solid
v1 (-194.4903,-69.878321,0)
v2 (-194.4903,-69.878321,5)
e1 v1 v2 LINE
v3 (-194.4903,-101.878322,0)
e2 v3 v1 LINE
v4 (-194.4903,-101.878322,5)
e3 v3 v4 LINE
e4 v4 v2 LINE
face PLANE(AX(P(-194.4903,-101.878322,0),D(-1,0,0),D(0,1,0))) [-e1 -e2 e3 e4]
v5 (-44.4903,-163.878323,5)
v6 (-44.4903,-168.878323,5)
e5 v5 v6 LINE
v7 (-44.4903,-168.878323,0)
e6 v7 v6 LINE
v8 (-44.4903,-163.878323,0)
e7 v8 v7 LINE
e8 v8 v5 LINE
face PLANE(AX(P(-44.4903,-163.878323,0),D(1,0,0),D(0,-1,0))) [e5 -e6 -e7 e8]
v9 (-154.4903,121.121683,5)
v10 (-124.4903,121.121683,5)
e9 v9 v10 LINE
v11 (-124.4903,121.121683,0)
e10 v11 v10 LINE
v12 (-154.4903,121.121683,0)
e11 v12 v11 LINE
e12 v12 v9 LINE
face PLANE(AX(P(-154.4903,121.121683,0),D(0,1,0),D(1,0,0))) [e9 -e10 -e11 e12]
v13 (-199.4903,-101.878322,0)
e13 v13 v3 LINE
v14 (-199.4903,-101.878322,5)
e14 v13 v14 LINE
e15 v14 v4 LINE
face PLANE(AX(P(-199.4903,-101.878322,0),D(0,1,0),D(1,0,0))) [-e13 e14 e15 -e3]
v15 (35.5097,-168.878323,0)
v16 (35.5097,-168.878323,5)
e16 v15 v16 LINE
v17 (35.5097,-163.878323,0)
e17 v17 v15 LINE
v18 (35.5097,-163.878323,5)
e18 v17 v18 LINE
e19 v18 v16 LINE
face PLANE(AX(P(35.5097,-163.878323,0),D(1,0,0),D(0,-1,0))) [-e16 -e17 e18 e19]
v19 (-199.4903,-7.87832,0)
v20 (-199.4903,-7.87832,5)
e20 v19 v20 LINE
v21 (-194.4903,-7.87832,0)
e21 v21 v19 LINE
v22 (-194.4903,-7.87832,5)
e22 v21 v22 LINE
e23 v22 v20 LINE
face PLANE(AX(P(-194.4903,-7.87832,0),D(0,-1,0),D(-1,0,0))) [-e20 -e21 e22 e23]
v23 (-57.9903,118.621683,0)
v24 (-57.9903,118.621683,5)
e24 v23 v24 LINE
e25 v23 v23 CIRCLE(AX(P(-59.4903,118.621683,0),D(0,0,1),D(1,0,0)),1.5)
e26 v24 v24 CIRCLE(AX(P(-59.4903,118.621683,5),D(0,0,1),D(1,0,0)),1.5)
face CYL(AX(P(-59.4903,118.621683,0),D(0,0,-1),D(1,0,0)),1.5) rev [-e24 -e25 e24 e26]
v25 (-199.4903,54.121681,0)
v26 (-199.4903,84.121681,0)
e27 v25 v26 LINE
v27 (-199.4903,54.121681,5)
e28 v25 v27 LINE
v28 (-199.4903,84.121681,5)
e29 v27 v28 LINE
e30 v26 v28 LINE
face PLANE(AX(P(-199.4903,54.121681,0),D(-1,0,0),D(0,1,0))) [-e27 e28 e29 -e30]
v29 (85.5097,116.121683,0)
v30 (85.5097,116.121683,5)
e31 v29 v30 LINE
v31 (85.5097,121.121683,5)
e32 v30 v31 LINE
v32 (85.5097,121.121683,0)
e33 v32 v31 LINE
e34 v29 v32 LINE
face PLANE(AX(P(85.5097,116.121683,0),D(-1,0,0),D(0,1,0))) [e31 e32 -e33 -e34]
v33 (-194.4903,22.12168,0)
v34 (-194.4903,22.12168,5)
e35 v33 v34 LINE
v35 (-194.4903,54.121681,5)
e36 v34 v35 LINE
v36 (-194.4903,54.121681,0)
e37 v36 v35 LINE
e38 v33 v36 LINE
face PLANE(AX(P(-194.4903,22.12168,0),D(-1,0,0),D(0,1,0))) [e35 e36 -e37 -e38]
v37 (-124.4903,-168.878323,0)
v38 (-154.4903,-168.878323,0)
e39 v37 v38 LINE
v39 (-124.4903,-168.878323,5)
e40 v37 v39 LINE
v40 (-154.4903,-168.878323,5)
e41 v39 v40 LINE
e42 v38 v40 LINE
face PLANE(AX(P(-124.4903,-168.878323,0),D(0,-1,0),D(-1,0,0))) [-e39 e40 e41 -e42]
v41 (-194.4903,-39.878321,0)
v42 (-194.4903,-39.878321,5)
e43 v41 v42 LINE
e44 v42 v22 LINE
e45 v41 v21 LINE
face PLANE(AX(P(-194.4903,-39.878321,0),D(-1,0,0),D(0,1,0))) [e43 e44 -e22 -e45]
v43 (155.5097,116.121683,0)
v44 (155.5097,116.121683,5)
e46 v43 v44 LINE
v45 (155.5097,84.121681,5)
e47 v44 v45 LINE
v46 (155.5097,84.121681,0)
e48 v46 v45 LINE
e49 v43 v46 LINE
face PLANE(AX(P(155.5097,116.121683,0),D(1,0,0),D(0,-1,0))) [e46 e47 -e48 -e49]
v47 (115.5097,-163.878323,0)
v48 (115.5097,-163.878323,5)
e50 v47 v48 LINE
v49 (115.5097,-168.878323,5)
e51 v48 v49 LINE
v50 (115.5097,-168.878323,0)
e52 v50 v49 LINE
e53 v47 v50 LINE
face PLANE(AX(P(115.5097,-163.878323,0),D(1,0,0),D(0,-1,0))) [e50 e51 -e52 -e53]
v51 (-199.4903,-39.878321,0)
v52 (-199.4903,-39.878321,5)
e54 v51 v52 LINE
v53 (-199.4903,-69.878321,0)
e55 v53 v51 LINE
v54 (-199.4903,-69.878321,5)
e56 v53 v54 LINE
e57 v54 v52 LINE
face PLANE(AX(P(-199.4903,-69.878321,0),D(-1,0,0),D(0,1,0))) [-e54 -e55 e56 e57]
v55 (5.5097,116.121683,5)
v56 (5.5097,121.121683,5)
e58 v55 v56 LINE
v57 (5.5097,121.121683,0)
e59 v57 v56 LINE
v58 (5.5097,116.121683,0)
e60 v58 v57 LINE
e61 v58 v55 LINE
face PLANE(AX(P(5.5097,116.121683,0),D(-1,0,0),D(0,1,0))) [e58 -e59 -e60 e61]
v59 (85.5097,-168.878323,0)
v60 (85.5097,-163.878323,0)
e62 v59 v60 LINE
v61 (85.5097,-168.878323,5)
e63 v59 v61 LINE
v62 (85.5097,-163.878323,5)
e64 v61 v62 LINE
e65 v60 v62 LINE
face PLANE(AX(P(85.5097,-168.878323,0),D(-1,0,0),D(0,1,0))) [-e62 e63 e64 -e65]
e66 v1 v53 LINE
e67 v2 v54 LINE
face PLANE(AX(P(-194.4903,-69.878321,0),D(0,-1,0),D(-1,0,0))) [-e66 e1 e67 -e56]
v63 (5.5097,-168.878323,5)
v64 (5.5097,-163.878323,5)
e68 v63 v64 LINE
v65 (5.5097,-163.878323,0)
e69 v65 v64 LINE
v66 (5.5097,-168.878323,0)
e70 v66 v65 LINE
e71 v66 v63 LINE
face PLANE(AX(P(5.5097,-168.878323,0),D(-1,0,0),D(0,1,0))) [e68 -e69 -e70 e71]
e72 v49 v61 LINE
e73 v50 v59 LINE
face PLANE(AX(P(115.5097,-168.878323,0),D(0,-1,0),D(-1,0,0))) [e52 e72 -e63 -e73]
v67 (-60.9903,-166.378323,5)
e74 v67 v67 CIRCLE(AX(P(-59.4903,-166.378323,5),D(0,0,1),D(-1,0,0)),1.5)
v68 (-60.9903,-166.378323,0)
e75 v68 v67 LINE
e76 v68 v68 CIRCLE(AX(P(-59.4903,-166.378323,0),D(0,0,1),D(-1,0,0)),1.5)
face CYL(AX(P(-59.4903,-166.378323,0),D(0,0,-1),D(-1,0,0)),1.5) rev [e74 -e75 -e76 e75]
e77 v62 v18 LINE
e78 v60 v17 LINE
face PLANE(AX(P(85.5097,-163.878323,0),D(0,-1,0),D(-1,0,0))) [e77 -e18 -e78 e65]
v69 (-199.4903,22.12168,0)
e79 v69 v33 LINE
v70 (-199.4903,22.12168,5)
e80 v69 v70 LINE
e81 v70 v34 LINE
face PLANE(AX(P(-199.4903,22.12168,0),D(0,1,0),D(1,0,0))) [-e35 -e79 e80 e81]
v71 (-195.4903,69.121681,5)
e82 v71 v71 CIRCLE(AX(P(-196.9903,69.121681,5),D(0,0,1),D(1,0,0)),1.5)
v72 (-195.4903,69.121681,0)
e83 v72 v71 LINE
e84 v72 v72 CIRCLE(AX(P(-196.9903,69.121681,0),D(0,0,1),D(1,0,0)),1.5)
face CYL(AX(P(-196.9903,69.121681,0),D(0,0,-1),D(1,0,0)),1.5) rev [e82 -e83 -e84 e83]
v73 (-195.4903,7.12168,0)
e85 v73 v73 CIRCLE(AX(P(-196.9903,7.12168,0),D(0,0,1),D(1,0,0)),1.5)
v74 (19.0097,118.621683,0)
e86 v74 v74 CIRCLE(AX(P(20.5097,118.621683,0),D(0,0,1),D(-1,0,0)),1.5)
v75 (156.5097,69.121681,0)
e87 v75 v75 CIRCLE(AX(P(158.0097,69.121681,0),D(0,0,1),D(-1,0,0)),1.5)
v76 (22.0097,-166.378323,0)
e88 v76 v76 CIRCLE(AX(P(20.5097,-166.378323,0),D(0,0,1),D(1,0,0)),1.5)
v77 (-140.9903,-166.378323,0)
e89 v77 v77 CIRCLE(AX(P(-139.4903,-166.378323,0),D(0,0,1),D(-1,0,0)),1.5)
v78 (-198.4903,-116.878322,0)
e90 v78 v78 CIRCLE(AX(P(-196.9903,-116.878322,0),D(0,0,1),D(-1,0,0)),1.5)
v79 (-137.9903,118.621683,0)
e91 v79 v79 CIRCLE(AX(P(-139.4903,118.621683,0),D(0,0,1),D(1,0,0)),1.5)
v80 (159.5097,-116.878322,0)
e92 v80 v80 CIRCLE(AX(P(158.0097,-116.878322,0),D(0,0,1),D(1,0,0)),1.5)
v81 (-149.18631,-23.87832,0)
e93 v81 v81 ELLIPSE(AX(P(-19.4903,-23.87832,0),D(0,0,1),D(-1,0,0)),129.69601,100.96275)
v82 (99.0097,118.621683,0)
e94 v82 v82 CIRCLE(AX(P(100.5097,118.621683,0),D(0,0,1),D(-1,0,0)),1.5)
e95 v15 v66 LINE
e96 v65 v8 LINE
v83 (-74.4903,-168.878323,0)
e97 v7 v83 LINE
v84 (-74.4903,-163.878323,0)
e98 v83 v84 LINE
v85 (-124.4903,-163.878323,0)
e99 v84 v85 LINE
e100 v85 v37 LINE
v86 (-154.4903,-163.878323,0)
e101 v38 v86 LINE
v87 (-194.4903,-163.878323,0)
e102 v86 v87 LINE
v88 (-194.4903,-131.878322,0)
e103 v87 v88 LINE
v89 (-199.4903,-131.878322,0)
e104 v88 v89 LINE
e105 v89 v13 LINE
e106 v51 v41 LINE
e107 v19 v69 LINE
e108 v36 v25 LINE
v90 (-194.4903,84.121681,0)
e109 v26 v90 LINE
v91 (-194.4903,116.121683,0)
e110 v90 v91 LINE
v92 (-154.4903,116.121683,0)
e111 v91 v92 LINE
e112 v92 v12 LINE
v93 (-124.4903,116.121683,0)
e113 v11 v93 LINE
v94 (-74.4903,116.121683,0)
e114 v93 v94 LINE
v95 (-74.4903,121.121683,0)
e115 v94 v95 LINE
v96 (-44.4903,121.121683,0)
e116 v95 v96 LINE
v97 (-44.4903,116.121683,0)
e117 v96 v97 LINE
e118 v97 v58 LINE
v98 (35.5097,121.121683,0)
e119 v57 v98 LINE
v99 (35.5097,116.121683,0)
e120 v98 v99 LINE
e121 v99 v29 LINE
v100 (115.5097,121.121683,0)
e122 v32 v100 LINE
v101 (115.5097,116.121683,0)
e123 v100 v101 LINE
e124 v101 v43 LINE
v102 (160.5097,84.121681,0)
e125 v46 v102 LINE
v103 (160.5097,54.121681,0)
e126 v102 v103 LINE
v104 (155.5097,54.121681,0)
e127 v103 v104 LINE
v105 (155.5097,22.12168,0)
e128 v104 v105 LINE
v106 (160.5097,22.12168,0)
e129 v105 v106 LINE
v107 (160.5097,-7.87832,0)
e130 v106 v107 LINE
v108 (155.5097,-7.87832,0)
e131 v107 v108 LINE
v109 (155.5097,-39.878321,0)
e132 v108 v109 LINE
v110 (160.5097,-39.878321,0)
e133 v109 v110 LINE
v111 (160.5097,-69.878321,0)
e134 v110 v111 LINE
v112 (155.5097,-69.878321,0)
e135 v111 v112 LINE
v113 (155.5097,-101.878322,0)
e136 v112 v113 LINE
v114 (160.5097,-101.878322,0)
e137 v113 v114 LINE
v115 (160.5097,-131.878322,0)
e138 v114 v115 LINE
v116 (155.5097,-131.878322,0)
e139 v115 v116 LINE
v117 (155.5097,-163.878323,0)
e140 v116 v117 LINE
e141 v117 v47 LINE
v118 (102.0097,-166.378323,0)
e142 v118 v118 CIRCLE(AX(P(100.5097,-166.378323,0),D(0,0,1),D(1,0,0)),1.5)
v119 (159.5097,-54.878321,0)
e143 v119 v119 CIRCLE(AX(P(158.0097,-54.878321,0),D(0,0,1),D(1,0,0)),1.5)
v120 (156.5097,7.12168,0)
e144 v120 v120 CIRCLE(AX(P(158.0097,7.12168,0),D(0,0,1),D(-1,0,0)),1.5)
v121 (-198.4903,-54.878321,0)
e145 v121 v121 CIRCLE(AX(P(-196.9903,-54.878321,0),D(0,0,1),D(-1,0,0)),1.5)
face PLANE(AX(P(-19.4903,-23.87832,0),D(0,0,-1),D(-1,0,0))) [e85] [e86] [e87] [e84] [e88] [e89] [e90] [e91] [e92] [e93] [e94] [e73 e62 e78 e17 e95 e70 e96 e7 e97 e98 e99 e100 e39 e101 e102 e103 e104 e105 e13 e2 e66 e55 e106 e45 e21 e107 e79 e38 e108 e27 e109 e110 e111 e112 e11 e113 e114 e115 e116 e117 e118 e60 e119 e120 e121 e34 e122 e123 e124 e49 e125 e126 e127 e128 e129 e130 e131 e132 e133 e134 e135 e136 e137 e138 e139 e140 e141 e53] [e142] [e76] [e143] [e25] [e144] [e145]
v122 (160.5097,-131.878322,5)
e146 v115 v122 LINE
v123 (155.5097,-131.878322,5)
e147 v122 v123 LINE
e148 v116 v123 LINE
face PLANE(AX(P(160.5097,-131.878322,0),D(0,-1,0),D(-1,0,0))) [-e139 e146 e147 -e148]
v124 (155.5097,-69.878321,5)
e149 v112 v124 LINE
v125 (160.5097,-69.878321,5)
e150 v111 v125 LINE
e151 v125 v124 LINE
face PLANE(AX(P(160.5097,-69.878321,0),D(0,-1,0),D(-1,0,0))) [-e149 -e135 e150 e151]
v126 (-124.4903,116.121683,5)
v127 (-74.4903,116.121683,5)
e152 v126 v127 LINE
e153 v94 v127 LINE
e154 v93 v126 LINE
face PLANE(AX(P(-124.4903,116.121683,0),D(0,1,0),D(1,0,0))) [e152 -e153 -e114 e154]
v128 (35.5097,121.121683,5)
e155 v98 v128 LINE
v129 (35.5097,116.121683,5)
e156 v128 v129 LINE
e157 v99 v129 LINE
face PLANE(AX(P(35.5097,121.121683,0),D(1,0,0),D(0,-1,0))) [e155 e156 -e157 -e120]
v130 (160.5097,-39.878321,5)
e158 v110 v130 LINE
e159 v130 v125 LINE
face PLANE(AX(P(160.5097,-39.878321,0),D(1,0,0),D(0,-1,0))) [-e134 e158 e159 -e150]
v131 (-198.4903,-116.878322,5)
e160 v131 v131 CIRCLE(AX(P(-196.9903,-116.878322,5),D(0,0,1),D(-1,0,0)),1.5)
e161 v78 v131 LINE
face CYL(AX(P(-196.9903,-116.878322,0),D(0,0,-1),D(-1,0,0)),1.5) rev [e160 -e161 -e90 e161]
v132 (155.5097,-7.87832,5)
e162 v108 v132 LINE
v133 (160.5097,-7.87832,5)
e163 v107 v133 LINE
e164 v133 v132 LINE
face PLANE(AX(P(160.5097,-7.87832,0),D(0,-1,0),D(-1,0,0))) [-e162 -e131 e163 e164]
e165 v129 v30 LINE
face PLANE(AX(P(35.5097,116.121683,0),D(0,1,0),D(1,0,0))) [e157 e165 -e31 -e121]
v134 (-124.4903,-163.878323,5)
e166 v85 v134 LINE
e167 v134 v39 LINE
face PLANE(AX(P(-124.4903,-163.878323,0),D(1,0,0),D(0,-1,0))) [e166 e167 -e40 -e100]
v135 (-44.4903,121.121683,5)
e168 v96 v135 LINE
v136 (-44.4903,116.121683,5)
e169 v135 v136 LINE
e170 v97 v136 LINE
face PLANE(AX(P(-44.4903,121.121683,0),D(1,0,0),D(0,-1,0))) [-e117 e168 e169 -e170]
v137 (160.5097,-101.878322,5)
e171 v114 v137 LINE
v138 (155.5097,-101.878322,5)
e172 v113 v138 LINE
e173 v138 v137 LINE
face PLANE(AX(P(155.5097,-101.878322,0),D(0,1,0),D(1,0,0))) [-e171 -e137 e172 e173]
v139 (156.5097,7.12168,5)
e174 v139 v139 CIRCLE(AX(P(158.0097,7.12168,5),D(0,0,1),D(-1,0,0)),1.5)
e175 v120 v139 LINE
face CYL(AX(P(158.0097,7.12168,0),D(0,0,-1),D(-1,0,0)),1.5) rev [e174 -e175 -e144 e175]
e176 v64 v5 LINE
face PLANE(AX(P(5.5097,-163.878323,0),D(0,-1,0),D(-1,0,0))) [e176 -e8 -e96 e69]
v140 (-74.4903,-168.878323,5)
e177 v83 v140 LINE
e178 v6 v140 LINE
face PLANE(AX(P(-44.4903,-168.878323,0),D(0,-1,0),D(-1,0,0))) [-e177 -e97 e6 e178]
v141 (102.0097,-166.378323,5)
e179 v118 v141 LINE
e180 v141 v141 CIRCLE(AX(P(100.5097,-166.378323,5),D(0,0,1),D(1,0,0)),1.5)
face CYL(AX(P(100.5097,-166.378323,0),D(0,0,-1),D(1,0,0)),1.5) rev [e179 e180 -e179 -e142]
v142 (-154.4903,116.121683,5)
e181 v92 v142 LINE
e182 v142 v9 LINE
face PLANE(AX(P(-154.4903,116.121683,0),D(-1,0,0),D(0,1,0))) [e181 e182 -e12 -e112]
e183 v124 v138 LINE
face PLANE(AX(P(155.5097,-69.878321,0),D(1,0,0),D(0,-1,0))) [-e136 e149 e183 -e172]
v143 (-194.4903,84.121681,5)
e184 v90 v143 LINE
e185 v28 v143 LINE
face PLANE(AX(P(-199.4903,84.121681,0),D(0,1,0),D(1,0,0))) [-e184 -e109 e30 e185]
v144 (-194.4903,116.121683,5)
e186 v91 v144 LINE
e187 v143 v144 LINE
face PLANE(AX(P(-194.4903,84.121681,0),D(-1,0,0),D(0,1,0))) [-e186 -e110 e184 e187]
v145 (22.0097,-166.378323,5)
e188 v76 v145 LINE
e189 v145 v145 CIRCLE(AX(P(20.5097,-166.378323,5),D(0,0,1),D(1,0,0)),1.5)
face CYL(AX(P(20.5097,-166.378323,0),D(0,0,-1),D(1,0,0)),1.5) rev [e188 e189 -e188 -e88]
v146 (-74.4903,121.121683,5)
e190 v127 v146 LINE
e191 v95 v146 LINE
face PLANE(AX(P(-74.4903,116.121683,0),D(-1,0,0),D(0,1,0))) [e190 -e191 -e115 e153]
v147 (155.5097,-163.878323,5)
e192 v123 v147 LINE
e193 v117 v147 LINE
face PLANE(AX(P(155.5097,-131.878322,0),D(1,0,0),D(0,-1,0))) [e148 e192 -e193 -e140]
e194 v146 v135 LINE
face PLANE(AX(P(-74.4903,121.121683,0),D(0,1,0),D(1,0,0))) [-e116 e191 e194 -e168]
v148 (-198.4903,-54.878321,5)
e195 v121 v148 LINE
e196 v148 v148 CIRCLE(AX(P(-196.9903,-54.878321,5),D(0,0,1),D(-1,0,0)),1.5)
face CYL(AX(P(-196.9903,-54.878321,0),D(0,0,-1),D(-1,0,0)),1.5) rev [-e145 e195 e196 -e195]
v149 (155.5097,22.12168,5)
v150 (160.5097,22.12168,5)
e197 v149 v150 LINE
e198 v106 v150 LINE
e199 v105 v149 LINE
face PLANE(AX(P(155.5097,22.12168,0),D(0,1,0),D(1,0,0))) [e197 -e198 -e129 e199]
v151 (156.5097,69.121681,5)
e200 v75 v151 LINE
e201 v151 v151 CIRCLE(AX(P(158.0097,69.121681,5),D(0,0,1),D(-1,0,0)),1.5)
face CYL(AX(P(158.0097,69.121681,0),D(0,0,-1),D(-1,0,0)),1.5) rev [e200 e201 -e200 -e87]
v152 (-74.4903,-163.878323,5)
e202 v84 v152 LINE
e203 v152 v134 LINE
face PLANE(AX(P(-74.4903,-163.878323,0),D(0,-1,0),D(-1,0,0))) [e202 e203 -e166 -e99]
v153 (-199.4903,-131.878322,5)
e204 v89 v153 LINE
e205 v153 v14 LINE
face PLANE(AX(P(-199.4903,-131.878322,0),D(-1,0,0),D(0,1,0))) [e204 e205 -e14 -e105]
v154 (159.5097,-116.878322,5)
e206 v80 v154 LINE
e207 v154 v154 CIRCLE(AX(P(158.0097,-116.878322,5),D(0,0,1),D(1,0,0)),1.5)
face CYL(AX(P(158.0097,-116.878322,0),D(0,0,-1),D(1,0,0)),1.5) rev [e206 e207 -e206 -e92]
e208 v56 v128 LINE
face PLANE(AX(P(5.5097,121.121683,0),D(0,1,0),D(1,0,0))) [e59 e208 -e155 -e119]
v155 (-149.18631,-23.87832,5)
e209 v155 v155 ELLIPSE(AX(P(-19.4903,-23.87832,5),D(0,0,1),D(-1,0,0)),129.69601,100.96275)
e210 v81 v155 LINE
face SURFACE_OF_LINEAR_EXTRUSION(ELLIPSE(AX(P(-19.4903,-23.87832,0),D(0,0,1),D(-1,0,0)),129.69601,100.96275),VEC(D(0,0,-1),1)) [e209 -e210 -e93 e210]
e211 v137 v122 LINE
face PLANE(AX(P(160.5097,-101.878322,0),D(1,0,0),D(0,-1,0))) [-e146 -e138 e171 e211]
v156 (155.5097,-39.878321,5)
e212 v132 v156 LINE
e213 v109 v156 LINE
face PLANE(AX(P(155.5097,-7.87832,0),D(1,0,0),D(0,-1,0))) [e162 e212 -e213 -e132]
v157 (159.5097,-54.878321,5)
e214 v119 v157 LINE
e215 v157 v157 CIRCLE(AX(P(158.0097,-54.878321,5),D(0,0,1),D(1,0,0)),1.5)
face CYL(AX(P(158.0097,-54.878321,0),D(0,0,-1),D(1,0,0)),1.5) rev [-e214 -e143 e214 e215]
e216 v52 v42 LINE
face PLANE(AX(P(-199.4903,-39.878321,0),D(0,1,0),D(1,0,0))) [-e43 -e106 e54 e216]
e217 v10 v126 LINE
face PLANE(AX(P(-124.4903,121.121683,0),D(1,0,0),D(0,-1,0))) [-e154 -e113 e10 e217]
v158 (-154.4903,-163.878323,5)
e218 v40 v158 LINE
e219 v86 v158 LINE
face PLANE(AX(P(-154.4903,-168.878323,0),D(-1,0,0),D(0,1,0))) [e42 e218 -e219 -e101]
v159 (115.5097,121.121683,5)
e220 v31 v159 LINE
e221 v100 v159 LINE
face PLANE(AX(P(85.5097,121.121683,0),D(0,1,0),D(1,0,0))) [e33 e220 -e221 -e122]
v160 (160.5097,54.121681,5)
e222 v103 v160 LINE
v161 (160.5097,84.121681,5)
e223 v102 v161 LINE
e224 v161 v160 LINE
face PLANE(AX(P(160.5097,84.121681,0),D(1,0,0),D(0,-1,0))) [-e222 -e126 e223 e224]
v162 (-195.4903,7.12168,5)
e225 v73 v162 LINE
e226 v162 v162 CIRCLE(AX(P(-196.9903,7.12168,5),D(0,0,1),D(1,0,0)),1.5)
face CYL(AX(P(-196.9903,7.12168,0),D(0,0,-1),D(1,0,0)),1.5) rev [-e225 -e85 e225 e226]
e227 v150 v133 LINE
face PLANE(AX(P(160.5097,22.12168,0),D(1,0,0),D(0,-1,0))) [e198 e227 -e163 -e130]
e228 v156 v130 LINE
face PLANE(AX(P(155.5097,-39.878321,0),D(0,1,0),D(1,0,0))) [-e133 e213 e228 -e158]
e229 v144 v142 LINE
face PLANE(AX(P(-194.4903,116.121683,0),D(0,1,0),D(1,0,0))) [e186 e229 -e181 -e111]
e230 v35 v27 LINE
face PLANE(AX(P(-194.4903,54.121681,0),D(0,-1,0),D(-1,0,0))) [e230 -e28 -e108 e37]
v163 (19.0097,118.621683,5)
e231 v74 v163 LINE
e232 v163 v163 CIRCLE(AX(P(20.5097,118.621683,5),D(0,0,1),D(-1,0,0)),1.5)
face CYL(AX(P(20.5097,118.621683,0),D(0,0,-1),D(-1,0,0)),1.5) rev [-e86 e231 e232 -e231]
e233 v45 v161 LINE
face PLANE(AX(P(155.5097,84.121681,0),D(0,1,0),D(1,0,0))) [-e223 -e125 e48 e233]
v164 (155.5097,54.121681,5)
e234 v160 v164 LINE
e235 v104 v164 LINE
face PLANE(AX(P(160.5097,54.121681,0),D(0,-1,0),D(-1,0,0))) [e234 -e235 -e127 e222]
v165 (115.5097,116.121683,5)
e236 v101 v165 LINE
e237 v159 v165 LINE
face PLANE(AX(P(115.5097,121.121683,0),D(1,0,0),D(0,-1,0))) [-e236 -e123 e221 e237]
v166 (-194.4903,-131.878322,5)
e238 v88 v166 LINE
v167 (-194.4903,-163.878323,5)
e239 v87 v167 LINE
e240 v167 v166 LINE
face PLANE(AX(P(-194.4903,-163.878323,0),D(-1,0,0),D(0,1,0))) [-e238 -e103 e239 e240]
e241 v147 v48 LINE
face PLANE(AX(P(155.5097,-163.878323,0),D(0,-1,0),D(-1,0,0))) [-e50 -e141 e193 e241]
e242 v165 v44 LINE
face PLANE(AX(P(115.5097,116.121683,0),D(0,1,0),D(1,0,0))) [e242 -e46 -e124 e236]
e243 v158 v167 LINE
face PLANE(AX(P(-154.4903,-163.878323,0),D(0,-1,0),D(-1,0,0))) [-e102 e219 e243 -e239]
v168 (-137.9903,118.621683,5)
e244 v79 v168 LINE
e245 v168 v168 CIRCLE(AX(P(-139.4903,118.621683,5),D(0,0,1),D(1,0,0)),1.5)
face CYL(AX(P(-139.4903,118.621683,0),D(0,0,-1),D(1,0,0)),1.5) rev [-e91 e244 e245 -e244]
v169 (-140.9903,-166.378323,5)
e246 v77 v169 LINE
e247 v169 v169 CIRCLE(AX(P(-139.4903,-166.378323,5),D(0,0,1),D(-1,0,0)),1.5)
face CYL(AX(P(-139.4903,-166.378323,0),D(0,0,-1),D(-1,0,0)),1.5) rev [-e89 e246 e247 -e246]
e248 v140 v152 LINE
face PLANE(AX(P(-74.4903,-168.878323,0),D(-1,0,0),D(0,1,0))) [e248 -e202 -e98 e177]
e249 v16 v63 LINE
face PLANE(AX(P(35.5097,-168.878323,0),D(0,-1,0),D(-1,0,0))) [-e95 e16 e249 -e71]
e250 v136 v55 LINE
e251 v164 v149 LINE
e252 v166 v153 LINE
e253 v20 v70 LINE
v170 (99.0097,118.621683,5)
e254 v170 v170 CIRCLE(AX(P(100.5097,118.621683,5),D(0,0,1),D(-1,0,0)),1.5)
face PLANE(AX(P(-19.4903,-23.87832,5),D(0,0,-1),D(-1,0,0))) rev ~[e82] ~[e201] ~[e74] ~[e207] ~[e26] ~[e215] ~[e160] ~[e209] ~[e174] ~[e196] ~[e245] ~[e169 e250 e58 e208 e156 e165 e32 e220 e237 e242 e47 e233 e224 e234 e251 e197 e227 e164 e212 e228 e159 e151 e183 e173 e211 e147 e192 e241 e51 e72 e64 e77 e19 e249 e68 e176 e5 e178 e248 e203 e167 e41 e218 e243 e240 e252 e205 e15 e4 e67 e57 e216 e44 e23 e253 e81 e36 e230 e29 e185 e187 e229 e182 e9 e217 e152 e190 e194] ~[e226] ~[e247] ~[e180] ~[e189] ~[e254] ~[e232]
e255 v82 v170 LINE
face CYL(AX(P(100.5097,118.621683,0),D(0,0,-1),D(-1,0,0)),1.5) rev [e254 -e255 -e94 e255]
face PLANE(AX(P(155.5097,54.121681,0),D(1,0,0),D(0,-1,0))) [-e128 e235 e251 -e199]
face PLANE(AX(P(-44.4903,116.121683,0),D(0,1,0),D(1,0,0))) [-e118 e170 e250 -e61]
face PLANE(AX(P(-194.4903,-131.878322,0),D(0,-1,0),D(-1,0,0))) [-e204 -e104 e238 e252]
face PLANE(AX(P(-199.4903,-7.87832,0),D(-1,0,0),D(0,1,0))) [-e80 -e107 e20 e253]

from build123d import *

# Parameters (mm, degrees)
SKETCH1_R           = 1.5
SKETCH1_RX          = 129.696010234
SKETCH1_RY          = 100.962749524
BOSS_EXTRUDE1_DEPTH = 5


with BuildPart() as part:
    # Sketch1 → Boss-Extrude1 (new body)
    with BuildSketch(Plane.XY):
        Polygon((155.509699879, -163.878323363), (115.509699879, -163.878323363), (115.509699879, -168.878323363), (85.509699879, -168.878323363), (85.509699879, -163.878323363), (35.509699879, -163.878323363), (35.509699879, -168.878323363), (5.509699879, -168.878323363), (5.509699879, -163.878323363), (-44.490300121, -163.878323363), (-44.490300121, -168.878323363), (-74.490300121, -168.878323363), (-74.490300121, -163.878323363), (-124.490300121, -163.878323363), (-124.490300121, -168.878323363), (-154.490300121, -168.878323363), (-154.490300121, -163.878323363), (-194.490300121, -163.878323363), (-194.490300121, -131.87832215), (-199.490300121, -131.87832215), (-199.490300121, -101.87832215), (-194.490300121, -101.87832215), (-194.490300121, -69.878320937), (-199.490300121, -69.878320937), (-199.490300121, -39.878320937), (-194.490300121, -39.878320937), (-194.490300121, -7.878319723), (-199.490300121, -7.878319723), (-199.490300121, 22.121680277), (-194.490300121, 22.121680277), (-194.490300121, 54.12168149), (-199.490300121, 54.12168149), (-199.490300121, 84.12168149), (-194.490300121, 84.12168149), (-194.490300121, 116.121682703), (-154.490300121, 116.121682703), (-154.490300121, 121.121682703), (-124.490300121, 121.121682703), (-124.490300121, 116.121682703), (-74.490300121, 116.121682703), (-74.490300121, 121.121682703), (-44.490300121, 121.121682703), (-44.490300121, 116.121682703), (5.509699879, 116.121682703), (5.509699879, 121.121682703), (35.509699879, 121.121682703), (35.509699879, 116.121682703), (85.509699879, 116.121682703), (85.509699879, 121.121682703), (115.509699879, 121.121682703), (115.509699879, 116.121682703), (155.509699879, 116.121682703), (155.509699879, 84.12168149), (160.509699879, 84.12168149), (160.509699879, 54.12168149), (155.509699879, 54.12168149), (155.509699879, 22.121680277), (160.509699879, 22.121680277), (160.509699879, -7.878319723), (155.509699879, -7.878319723), (155.509699879, -39.878320937), (160.509699879, -39.878320937), (160.509699879, -69.878320937), (155.509699879, -69.878320937), (155.509699879, -101.87832215), (160.509699879, -101.87832215), (160.509699879, -131.87832215), (155.509699879, -131.87832215), align=None)
        with Locations((-139.490300121, 118.621682703)):
            Circle(SKETCH1_R, mode=Mode.SUBTRACT)
        with Locations((-59.490300121, 118.621682703)):
            Circle(SKETCH1_R, mode=Mode.SUBTRACT)
        with Locations((-196.990300121, 69.12168149)):
            Circle(SKETCH1_R, mode=Mode.SUBTRACT)
        with Locations((-196.990300121, 7.121680277)):
            Circle(SKETCH1_R, mode=Mode.SUBTRACT)
        with Locations(Location((158.009699879, 7.121680277, 0), (0, 0, 180))):
            Circle(SKETCH1_R, mode=Mode.SUBTRACT)
        with Locations(Location((158.009699879, 69.12168149, 0), (0, 0, 180))):
            Circle(SKETCH1_R, mode=Mode.SUBTRACT)
        with Locations(Location((100.509699879, 118.621682703, 0), (0, 0, 180))):
            Circle(SKETCH1_R, mode=Mode.SUBTRACT)
        with Locations(Location((20.509699879, 118.621682703, 0), (0, 0, 180))):
            Circle(SKETCH1_R, mode=Mode.SUBTRACT)
        with Locations((158.009699879, -54.878320937)):
            Circle(SKETCH1_R, mode=Mode.SUBTRACT)
        with Locations((158.009699879, -116.87832215)):
            Circle(SKETCH1_R, mode=Mode.SUBTRACT)
        with Locations((100.509699879, -166.378323363)):
            Circle(SKETCH1_R, mode=Mode.SUBTRACT)
        with Locations((20.509699879, -166.378323363)):
            Circle(SKETCH1_R, mode=Mode.SUBTRACT)
        with Locations(Location((-59.490300121, -166.378323363, 0), (0, 0, 180))):
            Circle(SKETCH1_R, mode=Mode.SUBTRACT)
        with Locations(Location((-139.490300121, -166.378323363, 0), (0, 0, 180))):
            Circle(SKETCH1_R, mode=Mode.SUBTRACT)
        with Locations(Location((-196.990300121, -54.878320937, 0), (0, 0, 180))):
            Circle(SKETCH1_R, mode=Mode.SUBTRACT)
        with Locations(Location((-196.990300121, -116.87832215, 0), (0, 0, 180))):
            Circle(SKETCH1_R, mode=Mode.SUBTRACT)
        with Locations(Location((-19.490300121, -23.87832033), (0, 0, -180))):
            Ellipse(SKETCH1_RX, SKETCH1_RY, mode=Mode.SUBTRACT)
    extrude(amount=BOSS_EXTRUDE1_DEPTH)


solid = part.part
